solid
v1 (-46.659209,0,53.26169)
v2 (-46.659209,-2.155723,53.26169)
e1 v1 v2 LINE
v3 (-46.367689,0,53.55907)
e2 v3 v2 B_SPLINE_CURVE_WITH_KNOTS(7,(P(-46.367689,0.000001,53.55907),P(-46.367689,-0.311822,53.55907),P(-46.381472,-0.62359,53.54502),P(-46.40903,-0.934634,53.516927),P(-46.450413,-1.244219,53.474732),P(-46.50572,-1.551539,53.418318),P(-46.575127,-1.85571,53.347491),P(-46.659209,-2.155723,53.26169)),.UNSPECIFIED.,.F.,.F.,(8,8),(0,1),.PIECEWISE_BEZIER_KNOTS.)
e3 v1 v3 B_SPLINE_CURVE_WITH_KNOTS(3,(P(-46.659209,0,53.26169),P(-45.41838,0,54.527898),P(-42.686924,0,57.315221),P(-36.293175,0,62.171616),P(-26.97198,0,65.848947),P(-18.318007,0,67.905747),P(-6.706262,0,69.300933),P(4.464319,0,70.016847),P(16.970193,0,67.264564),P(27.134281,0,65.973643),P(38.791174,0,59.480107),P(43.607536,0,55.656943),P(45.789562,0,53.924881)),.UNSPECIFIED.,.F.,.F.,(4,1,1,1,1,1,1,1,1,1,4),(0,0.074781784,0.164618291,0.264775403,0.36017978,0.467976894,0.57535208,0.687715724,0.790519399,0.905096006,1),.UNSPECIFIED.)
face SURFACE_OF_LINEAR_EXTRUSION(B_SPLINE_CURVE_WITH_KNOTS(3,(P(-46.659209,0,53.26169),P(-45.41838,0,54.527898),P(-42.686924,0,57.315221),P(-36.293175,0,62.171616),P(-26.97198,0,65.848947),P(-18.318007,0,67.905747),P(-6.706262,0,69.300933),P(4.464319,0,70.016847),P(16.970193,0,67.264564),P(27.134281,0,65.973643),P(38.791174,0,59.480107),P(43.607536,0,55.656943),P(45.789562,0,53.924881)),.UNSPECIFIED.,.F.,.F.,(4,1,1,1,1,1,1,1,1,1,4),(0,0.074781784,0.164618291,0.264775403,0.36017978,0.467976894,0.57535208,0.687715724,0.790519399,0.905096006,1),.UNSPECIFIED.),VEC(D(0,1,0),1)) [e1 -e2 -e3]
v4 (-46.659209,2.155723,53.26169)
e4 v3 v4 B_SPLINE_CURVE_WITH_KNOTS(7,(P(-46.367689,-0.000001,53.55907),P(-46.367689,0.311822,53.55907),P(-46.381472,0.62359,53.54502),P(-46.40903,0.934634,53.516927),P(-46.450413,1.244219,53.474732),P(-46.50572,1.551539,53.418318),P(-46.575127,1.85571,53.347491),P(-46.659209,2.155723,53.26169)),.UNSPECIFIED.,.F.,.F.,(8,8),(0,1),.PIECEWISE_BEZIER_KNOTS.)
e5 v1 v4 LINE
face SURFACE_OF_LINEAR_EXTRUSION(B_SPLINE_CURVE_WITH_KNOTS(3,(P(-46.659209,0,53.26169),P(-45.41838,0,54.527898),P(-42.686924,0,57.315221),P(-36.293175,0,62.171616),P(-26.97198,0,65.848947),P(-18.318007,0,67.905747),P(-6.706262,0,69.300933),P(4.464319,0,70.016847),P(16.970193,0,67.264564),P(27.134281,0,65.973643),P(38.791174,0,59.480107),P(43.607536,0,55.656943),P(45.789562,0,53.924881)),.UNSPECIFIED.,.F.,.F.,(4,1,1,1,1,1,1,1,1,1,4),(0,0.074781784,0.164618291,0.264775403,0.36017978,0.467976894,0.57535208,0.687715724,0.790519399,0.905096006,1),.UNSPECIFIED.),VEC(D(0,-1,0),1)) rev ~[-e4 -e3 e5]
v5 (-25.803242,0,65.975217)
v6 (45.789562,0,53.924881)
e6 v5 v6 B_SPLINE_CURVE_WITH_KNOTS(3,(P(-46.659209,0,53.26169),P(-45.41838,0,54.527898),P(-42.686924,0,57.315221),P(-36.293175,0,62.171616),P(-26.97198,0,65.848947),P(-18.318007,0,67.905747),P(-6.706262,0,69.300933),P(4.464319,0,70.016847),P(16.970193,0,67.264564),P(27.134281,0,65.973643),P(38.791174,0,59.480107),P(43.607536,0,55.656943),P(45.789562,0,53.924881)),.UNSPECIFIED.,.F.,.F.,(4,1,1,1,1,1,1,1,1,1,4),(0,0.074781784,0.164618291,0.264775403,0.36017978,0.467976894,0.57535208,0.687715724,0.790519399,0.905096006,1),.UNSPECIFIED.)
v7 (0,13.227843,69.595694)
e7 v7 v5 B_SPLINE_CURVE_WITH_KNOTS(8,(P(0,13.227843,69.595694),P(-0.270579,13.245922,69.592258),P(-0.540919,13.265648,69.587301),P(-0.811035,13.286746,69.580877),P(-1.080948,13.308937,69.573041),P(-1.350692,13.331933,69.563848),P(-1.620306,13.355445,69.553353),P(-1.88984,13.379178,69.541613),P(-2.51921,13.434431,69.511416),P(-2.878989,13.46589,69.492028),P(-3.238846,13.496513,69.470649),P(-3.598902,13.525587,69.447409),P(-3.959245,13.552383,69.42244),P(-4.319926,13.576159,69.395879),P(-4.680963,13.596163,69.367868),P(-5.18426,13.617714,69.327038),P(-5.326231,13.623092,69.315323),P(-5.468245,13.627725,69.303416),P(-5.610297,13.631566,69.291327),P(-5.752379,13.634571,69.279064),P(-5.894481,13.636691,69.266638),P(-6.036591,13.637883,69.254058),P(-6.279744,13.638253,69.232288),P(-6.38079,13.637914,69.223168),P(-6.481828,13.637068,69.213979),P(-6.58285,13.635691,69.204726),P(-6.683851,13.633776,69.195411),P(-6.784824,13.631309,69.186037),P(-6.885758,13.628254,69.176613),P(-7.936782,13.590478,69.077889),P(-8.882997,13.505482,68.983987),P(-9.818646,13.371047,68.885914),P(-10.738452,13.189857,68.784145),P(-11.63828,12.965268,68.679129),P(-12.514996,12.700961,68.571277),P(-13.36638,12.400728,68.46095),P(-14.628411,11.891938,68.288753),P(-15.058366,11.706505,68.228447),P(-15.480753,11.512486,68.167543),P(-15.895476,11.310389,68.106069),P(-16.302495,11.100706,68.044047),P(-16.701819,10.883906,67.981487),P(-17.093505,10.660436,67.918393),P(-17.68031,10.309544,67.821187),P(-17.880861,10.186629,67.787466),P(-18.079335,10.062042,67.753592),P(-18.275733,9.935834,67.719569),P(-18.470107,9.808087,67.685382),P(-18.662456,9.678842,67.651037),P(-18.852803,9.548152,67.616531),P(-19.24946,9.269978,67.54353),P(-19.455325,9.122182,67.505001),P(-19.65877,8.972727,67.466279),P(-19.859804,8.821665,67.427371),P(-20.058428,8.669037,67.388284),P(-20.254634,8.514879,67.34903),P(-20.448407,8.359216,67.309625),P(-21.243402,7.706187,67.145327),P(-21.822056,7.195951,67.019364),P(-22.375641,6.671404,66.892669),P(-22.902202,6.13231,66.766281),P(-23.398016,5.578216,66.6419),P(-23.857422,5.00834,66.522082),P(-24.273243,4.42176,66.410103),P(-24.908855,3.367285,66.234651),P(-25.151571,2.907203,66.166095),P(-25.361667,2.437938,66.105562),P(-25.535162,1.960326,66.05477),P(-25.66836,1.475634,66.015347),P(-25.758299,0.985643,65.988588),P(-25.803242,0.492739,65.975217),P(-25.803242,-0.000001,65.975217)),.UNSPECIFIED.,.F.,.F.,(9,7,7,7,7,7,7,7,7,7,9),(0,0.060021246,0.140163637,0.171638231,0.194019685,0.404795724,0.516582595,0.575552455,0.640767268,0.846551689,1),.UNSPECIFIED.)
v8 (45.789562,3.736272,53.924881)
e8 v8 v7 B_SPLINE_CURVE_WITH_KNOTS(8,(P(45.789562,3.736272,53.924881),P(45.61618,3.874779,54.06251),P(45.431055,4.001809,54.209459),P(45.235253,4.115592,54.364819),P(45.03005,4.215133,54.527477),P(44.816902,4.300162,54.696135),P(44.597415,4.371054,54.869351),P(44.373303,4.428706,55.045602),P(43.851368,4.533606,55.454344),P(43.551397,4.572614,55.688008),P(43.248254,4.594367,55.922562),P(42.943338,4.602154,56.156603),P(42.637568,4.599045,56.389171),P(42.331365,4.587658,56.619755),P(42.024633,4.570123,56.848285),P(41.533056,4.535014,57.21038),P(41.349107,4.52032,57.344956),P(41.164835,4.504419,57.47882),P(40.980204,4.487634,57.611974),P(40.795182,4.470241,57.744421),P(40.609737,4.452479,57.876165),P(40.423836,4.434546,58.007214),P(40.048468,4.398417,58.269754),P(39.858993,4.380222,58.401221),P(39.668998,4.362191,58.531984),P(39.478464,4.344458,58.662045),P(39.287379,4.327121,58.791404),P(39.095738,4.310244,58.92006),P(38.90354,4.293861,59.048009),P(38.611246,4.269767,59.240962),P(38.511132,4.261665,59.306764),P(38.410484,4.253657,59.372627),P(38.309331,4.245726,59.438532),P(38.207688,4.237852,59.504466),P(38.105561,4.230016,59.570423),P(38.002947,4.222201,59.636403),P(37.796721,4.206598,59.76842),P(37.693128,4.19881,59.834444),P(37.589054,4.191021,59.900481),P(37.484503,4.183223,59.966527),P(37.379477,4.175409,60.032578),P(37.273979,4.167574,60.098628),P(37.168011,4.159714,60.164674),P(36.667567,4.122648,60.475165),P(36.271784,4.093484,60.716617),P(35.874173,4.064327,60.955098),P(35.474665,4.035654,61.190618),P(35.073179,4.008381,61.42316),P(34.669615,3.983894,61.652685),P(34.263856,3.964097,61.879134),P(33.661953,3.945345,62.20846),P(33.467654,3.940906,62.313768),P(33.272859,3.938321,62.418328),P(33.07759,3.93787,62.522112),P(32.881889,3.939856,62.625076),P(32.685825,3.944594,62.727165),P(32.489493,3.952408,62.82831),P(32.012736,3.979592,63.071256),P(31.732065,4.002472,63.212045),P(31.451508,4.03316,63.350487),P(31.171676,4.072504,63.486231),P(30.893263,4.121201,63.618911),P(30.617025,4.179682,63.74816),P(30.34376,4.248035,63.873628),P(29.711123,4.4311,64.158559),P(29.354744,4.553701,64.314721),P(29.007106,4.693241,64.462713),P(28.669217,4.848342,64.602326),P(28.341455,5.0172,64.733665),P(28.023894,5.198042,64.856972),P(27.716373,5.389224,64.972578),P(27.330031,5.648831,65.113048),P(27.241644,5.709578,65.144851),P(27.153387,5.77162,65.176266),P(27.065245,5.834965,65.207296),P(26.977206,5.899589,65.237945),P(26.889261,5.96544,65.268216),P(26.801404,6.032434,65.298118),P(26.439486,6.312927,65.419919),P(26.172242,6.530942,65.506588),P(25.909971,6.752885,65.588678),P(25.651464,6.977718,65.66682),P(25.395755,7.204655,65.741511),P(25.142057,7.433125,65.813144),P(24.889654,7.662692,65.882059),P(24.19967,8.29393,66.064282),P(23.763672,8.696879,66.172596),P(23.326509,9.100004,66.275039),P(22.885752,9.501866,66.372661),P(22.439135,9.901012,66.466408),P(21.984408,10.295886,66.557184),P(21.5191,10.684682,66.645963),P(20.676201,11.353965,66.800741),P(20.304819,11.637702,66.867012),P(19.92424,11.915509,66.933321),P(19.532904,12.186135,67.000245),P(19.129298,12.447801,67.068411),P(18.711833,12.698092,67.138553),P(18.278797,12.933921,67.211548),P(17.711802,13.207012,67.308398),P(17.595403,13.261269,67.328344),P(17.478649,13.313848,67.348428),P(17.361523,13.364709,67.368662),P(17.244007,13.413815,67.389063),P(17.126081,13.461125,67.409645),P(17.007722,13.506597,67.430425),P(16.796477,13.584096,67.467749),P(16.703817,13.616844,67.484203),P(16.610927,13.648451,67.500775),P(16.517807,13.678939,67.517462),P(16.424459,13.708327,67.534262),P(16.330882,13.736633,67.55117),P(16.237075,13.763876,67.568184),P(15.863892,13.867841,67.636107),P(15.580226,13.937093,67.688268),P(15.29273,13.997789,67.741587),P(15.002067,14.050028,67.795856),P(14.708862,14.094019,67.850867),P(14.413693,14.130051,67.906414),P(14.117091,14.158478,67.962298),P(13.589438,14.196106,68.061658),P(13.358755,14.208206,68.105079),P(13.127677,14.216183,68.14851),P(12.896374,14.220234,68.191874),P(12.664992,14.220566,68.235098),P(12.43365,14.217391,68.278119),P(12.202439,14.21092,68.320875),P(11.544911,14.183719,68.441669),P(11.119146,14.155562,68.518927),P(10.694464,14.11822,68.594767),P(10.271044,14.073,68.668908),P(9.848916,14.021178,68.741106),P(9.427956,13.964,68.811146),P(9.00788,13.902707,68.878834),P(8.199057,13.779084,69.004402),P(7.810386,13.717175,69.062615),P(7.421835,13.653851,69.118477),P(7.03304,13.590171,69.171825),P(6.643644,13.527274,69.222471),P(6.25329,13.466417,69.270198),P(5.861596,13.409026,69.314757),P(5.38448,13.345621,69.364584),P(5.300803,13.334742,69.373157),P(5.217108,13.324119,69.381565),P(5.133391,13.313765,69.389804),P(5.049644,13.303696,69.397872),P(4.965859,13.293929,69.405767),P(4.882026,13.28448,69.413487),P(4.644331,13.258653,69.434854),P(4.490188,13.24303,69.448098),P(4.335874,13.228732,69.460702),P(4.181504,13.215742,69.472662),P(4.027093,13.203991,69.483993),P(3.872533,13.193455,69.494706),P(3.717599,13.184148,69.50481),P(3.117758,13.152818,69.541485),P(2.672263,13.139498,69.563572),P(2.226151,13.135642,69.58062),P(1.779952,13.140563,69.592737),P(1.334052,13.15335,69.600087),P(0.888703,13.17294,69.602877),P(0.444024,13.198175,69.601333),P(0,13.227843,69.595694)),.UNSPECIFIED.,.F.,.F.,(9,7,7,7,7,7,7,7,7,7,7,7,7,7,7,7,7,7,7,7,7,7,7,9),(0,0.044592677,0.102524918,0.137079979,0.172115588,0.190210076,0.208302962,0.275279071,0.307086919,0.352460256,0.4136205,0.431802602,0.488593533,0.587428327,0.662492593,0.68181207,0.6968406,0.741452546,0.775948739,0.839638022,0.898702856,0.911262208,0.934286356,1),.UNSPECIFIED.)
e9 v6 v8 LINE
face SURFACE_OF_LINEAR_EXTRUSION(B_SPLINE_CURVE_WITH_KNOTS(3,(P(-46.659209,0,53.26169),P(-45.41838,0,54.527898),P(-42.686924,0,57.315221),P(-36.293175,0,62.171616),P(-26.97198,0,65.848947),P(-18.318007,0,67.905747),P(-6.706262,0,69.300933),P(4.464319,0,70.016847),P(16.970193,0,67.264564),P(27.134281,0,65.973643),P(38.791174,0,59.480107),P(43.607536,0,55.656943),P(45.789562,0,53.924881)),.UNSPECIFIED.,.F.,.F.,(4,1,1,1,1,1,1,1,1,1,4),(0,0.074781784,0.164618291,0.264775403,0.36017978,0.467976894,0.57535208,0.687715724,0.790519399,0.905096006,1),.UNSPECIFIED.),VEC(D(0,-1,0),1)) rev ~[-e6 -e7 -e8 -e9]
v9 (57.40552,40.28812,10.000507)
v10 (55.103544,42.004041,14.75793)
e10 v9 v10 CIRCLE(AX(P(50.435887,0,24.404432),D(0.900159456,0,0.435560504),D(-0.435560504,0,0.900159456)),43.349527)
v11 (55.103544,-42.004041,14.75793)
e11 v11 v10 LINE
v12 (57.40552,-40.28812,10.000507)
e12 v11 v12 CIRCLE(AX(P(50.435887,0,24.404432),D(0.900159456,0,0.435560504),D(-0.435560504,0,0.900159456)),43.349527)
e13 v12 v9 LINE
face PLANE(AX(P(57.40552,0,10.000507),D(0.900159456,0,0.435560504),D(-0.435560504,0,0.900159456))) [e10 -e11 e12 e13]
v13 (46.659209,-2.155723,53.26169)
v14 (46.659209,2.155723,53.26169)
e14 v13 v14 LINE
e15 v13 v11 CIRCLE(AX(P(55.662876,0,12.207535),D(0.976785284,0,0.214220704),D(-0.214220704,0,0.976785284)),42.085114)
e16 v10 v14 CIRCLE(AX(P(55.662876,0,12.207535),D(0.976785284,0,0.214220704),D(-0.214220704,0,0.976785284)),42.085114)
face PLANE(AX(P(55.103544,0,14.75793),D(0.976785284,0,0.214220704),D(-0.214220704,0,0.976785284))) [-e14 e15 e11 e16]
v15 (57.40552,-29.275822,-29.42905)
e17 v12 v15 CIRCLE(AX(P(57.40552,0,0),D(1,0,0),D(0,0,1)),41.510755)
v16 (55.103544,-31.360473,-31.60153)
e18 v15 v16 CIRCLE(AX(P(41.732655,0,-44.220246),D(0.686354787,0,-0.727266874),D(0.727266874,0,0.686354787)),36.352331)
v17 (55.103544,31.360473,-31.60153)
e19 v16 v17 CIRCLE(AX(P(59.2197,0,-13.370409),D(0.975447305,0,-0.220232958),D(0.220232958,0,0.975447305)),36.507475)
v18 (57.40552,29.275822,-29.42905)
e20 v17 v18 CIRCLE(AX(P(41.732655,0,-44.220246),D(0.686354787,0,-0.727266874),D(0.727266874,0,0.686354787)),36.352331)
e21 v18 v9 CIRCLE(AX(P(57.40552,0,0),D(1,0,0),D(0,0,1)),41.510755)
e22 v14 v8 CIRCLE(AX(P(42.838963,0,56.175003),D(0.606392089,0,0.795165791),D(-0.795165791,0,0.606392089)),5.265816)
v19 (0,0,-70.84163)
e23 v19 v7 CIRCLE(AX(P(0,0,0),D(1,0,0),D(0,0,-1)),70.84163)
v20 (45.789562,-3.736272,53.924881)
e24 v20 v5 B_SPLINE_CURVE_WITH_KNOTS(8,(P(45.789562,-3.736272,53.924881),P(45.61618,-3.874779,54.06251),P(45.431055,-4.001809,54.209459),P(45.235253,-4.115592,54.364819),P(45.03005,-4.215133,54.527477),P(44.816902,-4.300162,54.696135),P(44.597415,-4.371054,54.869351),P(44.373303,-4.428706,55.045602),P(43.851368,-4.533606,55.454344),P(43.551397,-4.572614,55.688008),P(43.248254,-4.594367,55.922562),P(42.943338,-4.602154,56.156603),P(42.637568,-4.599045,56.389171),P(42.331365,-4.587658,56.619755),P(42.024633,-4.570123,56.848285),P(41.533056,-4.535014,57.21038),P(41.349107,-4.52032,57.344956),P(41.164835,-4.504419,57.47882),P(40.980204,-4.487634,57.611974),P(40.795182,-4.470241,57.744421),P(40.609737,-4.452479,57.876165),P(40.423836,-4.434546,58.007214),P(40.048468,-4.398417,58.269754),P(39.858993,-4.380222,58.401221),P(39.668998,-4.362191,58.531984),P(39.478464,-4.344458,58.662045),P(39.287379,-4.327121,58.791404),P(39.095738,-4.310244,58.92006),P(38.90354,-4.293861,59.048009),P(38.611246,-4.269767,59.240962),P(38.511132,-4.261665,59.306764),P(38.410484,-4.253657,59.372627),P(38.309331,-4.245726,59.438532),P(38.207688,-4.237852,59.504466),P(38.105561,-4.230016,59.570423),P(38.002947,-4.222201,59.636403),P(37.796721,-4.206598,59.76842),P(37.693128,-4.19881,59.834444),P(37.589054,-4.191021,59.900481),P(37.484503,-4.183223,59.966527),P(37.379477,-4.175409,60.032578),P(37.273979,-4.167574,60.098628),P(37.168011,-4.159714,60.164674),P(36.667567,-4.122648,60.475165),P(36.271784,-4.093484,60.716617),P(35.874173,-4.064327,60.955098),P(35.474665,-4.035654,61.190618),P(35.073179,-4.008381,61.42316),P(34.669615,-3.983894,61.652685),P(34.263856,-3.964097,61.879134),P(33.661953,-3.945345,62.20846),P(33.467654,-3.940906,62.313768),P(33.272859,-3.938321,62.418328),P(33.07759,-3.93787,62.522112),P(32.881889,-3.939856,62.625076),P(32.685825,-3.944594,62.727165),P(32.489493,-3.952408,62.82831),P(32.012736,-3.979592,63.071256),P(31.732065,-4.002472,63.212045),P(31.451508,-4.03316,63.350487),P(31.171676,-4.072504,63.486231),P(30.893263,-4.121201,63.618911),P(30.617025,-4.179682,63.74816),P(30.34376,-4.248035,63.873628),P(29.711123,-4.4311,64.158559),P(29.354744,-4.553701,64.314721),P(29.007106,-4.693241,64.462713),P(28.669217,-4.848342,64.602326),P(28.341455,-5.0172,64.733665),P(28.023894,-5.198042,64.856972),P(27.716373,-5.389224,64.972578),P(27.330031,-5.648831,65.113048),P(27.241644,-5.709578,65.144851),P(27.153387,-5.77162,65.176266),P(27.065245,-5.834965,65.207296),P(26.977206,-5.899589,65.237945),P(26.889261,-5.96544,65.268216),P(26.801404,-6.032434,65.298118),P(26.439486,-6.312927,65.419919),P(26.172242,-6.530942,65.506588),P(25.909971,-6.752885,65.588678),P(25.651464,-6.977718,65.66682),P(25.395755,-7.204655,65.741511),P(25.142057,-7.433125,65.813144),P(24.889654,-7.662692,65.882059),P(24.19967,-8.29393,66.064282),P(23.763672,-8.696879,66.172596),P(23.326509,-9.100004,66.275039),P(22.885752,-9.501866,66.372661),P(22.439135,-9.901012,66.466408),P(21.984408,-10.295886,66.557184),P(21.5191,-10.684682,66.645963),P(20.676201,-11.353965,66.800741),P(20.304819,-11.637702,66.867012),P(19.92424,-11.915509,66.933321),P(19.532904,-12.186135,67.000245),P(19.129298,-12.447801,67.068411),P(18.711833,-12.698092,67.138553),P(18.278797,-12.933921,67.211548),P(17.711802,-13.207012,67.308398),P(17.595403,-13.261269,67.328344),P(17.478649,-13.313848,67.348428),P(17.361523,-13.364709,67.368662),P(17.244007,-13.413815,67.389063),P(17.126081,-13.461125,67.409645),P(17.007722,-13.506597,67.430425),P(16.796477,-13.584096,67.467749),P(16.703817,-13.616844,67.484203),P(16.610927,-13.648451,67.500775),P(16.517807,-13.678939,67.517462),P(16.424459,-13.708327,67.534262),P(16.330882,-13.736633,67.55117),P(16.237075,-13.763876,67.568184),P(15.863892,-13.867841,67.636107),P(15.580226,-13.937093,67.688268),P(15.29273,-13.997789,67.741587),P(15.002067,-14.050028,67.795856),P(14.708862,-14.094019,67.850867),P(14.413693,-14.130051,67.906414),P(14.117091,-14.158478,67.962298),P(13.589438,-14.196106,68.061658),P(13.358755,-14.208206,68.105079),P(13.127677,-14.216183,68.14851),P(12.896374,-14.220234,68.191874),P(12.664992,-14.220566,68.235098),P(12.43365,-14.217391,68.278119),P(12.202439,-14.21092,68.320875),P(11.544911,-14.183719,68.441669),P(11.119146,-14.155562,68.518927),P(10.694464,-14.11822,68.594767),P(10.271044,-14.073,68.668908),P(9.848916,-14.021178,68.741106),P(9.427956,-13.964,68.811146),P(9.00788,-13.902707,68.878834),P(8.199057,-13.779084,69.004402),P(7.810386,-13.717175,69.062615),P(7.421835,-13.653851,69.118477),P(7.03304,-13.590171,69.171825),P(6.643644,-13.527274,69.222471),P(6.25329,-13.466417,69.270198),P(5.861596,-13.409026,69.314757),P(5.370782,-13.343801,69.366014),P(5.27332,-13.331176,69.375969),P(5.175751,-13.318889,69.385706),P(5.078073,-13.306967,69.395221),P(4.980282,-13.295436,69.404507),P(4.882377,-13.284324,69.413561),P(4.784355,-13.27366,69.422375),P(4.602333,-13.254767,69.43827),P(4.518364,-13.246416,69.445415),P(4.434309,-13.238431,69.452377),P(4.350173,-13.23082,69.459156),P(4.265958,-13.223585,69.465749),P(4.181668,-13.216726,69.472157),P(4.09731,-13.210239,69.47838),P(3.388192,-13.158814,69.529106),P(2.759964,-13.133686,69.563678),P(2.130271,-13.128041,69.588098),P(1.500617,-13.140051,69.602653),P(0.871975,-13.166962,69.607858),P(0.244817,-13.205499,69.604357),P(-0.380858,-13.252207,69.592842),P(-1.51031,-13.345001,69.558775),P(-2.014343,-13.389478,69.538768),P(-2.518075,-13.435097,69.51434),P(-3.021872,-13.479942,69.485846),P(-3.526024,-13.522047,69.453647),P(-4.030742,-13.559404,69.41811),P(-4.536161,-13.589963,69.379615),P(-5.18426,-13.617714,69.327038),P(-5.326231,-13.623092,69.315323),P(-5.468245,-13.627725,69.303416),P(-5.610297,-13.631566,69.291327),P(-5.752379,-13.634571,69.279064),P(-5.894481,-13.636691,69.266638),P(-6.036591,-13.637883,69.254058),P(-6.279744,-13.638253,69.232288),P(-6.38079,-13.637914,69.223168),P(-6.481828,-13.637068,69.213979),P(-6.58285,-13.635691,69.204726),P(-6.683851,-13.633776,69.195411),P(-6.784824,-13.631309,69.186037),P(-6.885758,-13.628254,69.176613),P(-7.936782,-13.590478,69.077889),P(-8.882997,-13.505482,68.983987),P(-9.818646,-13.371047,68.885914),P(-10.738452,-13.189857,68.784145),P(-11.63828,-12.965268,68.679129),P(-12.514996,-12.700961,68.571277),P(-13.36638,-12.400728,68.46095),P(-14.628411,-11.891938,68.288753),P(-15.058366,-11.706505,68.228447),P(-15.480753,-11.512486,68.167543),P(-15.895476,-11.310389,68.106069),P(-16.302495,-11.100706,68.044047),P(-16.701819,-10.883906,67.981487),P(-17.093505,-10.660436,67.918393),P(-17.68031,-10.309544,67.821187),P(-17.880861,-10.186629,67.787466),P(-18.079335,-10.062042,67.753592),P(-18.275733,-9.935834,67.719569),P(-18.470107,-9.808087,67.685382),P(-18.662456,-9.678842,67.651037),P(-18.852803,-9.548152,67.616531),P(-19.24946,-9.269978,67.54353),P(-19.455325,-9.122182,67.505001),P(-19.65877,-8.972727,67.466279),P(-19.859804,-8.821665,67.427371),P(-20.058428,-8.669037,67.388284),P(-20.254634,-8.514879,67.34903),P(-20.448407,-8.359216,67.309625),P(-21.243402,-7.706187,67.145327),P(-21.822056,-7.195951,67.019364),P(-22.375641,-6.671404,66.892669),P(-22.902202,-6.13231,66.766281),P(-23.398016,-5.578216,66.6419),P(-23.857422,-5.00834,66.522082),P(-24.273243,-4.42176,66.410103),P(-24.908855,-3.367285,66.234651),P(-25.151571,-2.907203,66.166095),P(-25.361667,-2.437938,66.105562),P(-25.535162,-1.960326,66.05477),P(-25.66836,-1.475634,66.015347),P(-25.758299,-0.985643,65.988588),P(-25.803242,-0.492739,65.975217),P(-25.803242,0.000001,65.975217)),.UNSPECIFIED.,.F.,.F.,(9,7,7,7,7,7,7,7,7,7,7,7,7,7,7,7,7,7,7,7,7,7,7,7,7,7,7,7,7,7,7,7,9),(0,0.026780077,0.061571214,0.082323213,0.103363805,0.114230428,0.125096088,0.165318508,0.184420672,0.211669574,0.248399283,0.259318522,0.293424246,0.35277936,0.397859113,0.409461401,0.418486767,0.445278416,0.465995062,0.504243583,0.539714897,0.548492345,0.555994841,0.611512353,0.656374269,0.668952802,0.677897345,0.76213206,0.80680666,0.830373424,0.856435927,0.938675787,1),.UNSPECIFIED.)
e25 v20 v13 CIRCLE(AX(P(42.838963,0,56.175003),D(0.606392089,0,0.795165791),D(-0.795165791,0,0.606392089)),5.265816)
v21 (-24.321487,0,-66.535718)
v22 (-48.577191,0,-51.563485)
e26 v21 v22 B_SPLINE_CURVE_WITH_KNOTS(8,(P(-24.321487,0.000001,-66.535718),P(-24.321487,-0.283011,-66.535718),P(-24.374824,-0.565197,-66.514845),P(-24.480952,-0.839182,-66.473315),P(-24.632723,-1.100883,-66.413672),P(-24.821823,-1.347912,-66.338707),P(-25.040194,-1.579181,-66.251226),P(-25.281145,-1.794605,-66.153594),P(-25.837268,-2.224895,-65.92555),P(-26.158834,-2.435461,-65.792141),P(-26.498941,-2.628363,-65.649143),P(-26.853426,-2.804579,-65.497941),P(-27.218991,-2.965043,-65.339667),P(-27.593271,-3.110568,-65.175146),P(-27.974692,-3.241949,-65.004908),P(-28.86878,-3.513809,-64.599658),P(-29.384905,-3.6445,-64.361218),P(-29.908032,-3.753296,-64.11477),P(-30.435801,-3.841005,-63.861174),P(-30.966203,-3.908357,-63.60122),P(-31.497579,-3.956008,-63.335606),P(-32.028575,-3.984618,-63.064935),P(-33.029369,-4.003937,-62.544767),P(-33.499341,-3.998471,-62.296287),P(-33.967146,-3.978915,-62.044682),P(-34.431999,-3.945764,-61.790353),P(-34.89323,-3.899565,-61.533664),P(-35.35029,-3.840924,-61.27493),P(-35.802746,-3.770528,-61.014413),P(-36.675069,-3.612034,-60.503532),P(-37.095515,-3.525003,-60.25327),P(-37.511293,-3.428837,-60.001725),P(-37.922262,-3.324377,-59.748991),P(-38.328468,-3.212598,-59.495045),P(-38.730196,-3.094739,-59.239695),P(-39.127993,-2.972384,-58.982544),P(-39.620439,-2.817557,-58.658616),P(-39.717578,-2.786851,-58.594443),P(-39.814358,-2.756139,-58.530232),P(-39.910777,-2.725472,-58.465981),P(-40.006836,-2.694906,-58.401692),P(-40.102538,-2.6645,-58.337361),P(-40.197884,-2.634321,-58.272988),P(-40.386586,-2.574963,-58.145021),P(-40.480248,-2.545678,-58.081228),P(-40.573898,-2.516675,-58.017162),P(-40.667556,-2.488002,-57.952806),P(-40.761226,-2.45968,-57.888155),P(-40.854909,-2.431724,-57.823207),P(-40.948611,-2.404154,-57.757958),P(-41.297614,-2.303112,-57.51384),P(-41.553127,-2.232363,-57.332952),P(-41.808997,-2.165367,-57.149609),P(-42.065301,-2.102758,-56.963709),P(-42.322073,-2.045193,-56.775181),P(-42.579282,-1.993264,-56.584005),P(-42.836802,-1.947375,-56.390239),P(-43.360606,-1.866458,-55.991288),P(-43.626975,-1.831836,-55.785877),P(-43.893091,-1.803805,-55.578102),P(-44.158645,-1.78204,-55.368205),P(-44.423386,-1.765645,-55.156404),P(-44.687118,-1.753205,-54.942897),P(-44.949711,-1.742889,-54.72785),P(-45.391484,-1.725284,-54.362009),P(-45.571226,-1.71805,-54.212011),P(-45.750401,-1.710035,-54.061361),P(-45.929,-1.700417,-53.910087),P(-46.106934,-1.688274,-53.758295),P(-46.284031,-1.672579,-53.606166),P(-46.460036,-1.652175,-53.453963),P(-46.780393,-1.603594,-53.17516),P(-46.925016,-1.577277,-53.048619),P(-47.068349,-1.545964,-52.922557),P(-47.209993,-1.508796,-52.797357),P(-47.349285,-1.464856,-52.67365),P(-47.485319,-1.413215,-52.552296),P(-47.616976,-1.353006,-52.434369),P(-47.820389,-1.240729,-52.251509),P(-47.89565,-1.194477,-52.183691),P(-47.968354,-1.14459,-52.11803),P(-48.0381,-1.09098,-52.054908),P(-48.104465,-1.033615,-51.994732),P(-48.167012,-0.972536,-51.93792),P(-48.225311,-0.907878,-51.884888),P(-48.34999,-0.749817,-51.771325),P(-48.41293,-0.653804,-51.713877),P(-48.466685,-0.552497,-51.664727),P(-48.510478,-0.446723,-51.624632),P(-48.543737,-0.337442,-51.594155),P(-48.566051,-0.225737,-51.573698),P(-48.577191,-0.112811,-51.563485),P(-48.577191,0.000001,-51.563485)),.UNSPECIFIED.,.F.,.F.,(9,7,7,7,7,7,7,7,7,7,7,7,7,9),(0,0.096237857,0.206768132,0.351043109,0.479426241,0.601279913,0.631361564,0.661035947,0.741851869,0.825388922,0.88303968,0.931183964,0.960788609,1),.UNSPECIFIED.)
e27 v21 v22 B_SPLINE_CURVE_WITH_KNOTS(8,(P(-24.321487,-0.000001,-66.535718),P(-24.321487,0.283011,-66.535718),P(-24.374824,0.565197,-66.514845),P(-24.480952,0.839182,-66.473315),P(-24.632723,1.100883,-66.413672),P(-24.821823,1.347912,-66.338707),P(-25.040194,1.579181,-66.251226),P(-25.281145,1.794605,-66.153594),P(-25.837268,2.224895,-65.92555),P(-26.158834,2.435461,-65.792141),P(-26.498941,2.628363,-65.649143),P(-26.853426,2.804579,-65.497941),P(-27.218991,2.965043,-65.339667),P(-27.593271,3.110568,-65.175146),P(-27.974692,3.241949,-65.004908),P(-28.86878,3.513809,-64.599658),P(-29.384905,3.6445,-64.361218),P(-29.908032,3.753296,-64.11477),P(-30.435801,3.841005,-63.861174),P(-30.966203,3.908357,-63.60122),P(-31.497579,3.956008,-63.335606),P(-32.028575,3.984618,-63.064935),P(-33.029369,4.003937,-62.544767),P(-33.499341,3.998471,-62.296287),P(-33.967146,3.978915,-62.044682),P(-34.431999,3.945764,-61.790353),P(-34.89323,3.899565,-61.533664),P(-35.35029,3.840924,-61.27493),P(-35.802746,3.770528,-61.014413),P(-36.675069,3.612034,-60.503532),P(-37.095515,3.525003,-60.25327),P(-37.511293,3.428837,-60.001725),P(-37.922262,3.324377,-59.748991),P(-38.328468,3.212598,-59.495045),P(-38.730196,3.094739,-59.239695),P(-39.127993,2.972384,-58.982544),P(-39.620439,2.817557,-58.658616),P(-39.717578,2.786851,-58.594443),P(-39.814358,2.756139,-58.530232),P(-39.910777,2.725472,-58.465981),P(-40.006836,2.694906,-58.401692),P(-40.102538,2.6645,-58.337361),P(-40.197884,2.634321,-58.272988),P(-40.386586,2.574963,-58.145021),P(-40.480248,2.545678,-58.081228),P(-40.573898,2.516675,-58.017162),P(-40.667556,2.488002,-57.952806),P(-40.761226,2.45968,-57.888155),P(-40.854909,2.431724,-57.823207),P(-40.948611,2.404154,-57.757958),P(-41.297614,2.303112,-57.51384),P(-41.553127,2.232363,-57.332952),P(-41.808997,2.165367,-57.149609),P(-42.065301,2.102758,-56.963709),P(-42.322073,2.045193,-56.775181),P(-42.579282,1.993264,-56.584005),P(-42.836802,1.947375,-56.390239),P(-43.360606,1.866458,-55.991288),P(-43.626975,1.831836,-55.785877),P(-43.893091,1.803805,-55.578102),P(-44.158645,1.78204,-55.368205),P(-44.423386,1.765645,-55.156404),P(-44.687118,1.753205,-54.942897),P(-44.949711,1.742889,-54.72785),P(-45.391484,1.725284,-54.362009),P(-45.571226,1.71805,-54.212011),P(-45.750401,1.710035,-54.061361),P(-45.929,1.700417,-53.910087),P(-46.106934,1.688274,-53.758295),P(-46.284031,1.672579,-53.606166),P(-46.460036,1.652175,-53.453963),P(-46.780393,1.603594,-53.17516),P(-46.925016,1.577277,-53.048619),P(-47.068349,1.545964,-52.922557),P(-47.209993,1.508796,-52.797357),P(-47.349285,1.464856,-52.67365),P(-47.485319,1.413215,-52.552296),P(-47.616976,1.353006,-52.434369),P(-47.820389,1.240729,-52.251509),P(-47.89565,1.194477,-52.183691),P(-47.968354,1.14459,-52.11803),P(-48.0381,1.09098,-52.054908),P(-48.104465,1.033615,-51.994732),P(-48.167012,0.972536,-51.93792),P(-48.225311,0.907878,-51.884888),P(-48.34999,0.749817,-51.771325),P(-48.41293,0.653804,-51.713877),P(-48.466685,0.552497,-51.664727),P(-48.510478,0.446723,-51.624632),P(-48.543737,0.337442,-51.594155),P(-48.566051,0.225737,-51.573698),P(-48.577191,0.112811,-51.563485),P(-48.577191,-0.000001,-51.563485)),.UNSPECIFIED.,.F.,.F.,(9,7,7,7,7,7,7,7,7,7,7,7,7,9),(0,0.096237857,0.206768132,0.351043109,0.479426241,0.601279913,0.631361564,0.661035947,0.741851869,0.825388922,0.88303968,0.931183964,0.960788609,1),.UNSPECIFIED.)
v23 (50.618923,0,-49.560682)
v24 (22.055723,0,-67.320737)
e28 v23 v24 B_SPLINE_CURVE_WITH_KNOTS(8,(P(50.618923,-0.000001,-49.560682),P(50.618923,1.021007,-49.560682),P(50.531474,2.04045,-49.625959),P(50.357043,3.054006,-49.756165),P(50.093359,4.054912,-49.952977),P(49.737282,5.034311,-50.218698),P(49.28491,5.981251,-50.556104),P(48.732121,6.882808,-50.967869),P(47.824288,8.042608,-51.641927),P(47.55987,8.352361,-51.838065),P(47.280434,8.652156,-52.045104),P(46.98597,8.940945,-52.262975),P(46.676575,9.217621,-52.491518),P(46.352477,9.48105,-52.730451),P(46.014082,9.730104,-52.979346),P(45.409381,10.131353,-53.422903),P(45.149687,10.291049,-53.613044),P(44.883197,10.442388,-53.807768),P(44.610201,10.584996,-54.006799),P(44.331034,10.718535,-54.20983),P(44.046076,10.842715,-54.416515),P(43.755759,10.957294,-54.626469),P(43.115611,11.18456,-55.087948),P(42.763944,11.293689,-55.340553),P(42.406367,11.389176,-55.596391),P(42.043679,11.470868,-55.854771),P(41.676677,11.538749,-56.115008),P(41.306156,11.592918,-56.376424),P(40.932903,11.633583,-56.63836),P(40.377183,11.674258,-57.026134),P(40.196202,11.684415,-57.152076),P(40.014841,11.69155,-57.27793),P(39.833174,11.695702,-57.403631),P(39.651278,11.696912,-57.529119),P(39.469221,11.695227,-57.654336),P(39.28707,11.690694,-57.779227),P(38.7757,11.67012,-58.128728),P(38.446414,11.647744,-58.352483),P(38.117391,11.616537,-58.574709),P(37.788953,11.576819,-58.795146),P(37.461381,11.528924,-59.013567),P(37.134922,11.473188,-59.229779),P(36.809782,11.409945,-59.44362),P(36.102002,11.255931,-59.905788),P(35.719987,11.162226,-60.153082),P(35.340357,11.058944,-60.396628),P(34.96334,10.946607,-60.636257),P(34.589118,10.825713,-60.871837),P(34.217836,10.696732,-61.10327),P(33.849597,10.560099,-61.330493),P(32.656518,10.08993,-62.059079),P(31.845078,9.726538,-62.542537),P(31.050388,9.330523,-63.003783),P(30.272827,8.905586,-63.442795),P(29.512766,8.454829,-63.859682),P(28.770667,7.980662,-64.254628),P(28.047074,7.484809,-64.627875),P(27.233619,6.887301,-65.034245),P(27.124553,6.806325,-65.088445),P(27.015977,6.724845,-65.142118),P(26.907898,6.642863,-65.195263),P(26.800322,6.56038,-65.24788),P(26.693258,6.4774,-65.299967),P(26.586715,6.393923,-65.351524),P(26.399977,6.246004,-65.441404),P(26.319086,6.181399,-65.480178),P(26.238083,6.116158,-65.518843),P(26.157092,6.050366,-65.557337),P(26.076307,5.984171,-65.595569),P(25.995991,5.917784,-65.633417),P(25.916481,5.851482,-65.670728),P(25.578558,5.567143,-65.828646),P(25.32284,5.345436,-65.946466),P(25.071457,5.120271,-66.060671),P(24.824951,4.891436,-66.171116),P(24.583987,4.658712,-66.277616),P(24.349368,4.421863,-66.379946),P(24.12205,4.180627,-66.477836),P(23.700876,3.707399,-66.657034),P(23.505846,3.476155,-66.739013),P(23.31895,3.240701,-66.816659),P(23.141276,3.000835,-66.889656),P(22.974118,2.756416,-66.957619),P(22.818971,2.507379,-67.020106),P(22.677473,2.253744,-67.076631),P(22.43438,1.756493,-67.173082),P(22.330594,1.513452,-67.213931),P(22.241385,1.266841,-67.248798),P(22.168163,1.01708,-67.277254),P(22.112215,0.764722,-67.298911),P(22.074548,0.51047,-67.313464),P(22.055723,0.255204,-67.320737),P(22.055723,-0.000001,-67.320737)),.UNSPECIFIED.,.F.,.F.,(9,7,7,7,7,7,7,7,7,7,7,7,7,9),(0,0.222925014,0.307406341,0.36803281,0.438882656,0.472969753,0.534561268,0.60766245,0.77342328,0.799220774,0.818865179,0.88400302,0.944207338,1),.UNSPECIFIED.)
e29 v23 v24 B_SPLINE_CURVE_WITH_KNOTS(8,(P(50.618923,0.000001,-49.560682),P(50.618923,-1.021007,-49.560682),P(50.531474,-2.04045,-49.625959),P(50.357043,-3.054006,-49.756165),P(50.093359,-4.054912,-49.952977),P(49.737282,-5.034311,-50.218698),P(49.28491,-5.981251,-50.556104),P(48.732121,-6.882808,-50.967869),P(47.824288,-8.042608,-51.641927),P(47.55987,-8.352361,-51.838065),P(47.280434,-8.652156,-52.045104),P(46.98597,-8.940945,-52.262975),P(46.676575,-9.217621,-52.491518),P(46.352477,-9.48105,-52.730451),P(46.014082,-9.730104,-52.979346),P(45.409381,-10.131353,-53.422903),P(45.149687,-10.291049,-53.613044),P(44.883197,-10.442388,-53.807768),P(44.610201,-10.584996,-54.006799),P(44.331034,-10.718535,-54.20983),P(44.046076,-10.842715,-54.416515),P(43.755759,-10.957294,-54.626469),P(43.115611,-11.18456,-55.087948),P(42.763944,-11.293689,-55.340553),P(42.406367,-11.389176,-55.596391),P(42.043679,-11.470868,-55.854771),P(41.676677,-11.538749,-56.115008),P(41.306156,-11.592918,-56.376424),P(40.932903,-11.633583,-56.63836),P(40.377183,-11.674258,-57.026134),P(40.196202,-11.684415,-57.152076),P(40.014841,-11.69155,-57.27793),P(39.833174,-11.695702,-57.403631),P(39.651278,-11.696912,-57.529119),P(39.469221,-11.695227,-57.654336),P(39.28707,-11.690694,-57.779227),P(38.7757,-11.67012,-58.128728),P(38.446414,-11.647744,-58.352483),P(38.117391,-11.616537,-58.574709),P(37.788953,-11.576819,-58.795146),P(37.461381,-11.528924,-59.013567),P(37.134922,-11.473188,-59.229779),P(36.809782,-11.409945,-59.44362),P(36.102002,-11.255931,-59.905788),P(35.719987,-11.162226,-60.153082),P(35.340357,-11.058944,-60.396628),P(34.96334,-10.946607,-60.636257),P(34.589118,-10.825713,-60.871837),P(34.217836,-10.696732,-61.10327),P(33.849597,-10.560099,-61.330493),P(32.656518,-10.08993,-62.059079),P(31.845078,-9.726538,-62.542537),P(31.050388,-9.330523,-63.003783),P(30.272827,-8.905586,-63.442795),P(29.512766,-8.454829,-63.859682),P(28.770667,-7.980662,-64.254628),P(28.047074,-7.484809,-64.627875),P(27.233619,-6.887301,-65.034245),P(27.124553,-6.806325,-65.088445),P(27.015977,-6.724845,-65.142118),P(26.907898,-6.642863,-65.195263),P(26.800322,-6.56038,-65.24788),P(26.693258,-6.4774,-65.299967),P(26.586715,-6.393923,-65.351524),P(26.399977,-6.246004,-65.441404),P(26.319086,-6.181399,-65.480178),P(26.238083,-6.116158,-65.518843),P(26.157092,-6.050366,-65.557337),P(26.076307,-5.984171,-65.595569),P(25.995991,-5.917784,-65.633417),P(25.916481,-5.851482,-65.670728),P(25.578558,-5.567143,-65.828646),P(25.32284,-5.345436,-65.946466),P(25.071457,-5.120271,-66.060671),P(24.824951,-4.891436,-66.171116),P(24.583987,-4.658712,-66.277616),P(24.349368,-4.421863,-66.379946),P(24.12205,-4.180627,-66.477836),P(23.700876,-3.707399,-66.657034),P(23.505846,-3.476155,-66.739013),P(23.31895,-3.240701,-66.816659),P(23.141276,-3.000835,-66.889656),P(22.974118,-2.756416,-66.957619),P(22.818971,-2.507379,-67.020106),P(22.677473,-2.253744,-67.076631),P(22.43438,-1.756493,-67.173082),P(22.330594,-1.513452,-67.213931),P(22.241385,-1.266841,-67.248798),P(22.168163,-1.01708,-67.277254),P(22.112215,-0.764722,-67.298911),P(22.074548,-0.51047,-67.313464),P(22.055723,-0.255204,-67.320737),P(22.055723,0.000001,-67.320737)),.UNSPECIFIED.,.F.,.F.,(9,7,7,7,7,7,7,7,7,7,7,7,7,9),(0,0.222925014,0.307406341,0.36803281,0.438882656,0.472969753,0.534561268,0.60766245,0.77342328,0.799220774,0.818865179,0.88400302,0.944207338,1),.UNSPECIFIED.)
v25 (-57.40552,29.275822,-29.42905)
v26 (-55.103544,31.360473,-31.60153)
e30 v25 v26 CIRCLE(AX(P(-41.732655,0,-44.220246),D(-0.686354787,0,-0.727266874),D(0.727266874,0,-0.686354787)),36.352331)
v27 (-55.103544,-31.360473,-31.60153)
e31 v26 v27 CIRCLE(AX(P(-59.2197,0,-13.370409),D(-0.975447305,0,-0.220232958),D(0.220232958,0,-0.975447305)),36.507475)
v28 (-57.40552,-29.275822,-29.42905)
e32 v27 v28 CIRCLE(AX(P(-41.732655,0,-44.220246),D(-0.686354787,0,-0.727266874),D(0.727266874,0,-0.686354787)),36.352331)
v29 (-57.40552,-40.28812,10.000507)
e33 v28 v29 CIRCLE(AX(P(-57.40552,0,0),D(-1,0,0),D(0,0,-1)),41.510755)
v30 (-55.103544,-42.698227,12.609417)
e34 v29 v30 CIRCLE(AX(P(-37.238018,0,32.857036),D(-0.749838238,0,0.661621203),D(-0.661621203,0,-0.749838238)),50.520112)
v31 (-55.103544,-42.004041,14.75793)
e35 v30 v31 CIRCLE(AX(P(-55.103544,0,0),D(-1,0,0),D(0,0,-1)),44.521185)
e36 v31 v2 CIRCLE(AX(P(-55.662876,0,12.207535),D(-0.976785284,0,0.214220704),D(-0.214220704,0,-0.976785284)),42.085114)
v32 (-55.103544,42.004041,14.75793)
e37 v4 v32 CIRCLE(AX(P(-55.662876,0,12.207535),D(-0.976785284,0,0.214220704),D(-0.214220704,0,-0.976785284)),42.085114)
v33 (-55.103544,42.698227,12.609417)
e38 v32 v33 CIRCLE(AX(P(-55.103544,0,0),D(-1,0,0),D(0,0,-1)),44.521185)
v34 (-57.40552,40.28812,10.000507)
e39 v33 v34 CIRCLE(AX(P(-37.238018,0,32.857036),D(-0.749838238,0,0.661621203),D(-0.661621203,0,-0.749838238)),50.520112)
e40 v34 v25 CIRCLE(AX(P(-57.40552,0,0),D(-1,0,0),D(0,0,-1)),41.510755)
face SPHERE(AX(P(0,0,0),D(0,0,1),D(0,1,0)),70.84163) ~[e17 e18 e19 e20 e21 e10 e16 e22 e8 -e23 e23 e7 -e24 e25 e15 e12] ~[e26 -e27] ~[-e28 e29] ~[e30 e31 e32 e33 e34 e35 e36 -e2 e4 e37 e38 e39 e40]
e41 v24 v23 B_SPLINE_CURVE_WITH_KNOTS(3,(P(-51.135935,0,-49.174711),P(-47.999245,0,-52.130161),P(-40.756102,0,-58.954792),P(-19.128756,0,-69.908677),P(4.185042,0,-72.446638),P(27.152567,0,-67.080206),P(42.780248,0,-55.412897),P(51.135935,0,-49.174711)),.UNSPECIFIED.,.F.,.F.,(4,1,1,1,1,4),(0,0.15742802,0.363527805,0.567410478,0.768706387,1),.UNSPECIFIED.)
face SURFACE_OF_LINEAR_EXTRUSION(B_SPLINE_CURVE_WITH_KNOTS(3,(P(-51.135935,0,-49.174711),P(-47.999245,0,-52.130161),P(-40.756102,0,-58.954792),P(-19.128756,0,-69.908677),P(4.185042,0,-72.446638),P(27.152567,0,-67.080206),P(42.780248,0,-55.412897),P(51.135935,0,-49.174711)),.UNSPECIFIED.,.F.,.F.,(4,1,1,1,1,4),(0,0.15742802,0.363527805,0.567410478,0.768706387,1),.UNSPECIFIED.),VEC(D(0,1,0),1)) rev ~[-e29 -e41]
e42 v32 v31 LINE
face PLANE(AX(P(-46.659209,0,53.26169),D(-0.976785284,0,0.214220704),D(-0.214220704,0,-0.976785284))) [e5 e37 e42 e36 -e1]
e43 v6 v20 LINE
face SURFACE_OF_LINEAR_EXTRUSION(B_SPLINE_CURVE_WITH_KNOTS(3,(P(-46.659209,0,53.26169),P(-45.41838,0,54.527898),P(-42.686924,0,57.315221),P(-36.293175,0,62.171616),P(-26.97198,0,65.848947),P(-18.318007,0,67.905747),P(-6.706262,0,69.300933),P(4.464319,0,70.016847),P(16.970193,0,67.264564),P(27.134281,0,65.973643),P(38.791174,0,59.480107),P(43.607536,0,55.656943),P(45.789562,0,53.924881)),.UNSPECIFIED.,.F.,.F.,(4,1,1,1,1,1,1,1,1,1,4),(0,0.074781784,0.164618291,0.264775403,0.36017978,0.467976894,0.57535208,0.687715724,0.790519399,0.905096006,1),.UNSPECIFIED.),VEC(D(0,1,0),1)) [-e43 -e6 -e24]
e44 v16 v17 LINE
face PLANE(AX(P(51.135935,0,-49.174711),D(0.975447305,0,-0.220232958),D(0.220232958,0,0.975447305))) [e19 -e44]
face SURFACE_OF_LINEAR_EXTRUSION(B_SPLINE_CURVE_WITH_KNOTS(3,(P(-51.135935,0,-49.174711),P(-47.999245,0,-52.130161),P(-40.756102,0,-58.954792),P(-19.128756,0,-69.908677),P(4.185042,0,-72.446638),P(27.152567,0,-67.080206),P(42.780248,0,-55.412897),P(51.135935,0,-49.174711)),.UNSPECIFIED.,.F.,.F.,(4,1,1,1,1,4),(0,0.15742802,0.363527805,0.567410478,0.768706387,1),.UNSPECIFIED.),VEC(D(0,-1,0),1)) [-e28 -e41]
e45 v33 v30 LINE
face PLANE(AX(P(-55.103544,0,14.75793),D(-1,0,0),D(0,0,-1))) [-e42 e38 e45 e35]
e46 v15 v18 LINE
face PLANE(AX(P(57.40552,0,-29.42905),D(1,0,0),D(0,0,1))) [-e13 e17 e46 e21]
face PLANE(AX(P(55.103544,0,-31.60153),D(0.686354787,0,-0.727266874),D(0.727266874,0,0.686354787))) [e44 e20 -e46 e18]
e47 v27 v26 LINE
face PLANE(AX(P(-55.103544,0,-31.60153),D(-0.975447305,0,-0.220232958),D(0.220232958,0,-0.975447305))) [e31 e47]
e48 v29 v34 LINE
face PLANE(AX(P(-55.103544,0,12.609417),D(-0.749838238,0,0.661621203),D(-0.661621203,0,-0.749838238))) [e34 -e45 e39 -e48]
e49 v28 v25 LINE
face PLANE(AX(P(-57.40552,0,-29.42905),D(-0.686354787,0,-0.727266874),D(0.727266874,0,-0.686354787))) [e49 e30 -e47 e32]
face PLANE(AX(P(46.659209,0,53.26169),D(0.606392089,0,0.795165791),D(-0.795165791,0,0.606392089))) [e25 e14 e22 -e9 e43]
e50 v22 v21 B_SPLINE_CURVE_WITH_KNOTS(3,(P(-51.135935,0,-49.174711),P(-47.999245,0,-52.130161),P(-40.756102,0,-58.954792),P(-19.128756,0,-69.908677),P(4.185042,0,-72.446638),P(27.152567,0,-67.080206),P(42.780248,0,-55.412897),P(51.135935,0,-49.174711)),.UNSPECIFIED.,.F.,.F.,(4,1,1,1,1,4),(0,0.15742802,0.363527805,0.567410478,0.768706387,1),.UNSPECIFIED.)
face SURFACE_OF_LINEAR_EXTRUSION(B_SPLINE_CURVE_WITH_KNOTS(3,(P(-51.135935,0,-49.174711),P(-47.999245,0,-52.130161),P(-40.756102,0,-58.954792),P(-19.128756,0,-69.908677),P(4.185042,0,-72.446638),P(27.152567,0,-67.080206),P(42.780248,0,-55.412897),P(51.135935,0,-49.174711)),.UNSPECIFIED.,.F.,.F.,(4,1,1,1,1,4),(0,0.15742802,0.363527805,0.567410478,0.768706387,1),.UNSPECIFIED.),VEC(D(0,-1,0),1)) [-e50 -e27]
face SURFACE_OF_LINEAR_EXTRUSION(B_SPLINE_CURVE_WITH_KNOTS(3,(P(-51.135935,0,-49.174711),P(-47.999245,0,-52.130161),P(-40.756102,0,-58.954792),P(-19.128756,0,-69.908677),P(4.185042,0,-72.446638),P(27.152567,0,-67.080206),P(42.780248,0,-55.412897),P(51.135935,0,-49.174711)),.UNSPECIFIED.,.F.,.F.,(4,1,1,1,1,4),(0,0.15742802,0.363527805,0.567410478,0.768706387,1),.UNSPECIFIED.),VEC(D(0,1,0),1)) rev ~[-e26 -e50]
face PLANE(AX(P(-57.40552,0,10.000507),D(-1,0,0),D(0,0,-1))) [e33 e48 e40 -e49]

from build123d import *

# Parameters (mm, degrees)
F3_DEPTH = 88.138


with BuildPart() as f1:
    # F0 (on Right) → F1 (revolve)
    with BuildSketch(Plane.YZ):
        with BuildLine():
            Line((0, 70.8416298213), (0, -70.8416298213))
            ThreePointArc((0, -70.8416298213), (70.8416298213, 0), (0, 70.8416298213))
        make_face()
    revolve(axis=Axis((0, 0, 0), (0, 0, -1)))

    # F2 (on Front) → F3 (intersect, symmetric)
    with BuildSketch(Plane.XZ):
        with BuildLine():
            add(Edge.make_bspline(
                [(-46.6592088342, 53.2616898417), (-45.4183797693, 54.5278978273), (-42.6869236647, 57.3152209406), (-36.2931747251, 62.1716157185), (-26.9719798216, 65.8489474918), (-18.3180072339, 67.9057468895), (-6.7062624568, 69.3009329626), (4.4643194234, 70.0168470256), (16.9701926515, 67.2645644417), (27.1342814823, 65.9736427336), (38.7911737808, 59.4801067729), (43.6075364693, 55.6569433468), (45.7895621657, 53.9248809218)],
                knots=[0, 0, 0, 0, 0.0747817838, 0.1646182908, 0.2647754033, 0.36017978, 0.4679768944, 0.5753520805, 0.6877157242, 0.7905193986, 0.9050960061, 1, 1, 1, 1], degree=3))
            Line((-46.6592088342, 53.2616898417), (-55.1035441458, 14.7579303011))
            Line((-55.1035441458, 14.7579303011), (-55.1035441458, 12.6094166189))
            Line((-55.1035441458, 12.6094166189), (-57.4055202305, 10.0005073473))
            Line((-57.4055202305, 10.0005073473), (-57.4055202305, -29.4290501624))
            Line((-57.4055202305, -29.4290501624), (-55.1035441458, -31.6015295684))
            Line((-55.1035441458, -31.6015295684), (-51.1359348893, -49.1747111082))
            add(Edge.make_bspline(
                [(-51.1359348893, -49.1747111082), (-47.9992454957, -52.1301607476), (-40.7561015524, -58.9547915828), (-19.1287563078, -69.9086773355), (4.1850416995, -72.4466384159), (27.1525670282, -67.080206471), (42.7802476894, -55.4128974746), (51.1359348893, -49.1747111082)],
                knots=[0, 0, 0, 0, 0.15742802, 0.3635278048, 0.5674104782, 0.7687063865, 1, 1, 1, 1], degree=3))
            Line((51.1359348893, -49.1747111082), (55.1035441458, -31.6015295684))
            Line((55.1035441458, -31.6015295684), (57.4055202305, -29.4290501624))
            Line((57.4055202305, -29.4290501624), (57.4055202305, 10.0005073473))
            Line((57.4055202305, 10.0005073473), (55.1035441458, 14.7579303011))
            Line((55.1035441458, 14.7579303011), (46.6592088342, 53.2616898417))
            Line((46.6592088342, 53.2616898417), (45.7895621657, 53.9248809218))
        make_face()
    extrude(amount=F3_DEPTH, both=True, mode=Mode.INTERSECT)


solid = f1.part
